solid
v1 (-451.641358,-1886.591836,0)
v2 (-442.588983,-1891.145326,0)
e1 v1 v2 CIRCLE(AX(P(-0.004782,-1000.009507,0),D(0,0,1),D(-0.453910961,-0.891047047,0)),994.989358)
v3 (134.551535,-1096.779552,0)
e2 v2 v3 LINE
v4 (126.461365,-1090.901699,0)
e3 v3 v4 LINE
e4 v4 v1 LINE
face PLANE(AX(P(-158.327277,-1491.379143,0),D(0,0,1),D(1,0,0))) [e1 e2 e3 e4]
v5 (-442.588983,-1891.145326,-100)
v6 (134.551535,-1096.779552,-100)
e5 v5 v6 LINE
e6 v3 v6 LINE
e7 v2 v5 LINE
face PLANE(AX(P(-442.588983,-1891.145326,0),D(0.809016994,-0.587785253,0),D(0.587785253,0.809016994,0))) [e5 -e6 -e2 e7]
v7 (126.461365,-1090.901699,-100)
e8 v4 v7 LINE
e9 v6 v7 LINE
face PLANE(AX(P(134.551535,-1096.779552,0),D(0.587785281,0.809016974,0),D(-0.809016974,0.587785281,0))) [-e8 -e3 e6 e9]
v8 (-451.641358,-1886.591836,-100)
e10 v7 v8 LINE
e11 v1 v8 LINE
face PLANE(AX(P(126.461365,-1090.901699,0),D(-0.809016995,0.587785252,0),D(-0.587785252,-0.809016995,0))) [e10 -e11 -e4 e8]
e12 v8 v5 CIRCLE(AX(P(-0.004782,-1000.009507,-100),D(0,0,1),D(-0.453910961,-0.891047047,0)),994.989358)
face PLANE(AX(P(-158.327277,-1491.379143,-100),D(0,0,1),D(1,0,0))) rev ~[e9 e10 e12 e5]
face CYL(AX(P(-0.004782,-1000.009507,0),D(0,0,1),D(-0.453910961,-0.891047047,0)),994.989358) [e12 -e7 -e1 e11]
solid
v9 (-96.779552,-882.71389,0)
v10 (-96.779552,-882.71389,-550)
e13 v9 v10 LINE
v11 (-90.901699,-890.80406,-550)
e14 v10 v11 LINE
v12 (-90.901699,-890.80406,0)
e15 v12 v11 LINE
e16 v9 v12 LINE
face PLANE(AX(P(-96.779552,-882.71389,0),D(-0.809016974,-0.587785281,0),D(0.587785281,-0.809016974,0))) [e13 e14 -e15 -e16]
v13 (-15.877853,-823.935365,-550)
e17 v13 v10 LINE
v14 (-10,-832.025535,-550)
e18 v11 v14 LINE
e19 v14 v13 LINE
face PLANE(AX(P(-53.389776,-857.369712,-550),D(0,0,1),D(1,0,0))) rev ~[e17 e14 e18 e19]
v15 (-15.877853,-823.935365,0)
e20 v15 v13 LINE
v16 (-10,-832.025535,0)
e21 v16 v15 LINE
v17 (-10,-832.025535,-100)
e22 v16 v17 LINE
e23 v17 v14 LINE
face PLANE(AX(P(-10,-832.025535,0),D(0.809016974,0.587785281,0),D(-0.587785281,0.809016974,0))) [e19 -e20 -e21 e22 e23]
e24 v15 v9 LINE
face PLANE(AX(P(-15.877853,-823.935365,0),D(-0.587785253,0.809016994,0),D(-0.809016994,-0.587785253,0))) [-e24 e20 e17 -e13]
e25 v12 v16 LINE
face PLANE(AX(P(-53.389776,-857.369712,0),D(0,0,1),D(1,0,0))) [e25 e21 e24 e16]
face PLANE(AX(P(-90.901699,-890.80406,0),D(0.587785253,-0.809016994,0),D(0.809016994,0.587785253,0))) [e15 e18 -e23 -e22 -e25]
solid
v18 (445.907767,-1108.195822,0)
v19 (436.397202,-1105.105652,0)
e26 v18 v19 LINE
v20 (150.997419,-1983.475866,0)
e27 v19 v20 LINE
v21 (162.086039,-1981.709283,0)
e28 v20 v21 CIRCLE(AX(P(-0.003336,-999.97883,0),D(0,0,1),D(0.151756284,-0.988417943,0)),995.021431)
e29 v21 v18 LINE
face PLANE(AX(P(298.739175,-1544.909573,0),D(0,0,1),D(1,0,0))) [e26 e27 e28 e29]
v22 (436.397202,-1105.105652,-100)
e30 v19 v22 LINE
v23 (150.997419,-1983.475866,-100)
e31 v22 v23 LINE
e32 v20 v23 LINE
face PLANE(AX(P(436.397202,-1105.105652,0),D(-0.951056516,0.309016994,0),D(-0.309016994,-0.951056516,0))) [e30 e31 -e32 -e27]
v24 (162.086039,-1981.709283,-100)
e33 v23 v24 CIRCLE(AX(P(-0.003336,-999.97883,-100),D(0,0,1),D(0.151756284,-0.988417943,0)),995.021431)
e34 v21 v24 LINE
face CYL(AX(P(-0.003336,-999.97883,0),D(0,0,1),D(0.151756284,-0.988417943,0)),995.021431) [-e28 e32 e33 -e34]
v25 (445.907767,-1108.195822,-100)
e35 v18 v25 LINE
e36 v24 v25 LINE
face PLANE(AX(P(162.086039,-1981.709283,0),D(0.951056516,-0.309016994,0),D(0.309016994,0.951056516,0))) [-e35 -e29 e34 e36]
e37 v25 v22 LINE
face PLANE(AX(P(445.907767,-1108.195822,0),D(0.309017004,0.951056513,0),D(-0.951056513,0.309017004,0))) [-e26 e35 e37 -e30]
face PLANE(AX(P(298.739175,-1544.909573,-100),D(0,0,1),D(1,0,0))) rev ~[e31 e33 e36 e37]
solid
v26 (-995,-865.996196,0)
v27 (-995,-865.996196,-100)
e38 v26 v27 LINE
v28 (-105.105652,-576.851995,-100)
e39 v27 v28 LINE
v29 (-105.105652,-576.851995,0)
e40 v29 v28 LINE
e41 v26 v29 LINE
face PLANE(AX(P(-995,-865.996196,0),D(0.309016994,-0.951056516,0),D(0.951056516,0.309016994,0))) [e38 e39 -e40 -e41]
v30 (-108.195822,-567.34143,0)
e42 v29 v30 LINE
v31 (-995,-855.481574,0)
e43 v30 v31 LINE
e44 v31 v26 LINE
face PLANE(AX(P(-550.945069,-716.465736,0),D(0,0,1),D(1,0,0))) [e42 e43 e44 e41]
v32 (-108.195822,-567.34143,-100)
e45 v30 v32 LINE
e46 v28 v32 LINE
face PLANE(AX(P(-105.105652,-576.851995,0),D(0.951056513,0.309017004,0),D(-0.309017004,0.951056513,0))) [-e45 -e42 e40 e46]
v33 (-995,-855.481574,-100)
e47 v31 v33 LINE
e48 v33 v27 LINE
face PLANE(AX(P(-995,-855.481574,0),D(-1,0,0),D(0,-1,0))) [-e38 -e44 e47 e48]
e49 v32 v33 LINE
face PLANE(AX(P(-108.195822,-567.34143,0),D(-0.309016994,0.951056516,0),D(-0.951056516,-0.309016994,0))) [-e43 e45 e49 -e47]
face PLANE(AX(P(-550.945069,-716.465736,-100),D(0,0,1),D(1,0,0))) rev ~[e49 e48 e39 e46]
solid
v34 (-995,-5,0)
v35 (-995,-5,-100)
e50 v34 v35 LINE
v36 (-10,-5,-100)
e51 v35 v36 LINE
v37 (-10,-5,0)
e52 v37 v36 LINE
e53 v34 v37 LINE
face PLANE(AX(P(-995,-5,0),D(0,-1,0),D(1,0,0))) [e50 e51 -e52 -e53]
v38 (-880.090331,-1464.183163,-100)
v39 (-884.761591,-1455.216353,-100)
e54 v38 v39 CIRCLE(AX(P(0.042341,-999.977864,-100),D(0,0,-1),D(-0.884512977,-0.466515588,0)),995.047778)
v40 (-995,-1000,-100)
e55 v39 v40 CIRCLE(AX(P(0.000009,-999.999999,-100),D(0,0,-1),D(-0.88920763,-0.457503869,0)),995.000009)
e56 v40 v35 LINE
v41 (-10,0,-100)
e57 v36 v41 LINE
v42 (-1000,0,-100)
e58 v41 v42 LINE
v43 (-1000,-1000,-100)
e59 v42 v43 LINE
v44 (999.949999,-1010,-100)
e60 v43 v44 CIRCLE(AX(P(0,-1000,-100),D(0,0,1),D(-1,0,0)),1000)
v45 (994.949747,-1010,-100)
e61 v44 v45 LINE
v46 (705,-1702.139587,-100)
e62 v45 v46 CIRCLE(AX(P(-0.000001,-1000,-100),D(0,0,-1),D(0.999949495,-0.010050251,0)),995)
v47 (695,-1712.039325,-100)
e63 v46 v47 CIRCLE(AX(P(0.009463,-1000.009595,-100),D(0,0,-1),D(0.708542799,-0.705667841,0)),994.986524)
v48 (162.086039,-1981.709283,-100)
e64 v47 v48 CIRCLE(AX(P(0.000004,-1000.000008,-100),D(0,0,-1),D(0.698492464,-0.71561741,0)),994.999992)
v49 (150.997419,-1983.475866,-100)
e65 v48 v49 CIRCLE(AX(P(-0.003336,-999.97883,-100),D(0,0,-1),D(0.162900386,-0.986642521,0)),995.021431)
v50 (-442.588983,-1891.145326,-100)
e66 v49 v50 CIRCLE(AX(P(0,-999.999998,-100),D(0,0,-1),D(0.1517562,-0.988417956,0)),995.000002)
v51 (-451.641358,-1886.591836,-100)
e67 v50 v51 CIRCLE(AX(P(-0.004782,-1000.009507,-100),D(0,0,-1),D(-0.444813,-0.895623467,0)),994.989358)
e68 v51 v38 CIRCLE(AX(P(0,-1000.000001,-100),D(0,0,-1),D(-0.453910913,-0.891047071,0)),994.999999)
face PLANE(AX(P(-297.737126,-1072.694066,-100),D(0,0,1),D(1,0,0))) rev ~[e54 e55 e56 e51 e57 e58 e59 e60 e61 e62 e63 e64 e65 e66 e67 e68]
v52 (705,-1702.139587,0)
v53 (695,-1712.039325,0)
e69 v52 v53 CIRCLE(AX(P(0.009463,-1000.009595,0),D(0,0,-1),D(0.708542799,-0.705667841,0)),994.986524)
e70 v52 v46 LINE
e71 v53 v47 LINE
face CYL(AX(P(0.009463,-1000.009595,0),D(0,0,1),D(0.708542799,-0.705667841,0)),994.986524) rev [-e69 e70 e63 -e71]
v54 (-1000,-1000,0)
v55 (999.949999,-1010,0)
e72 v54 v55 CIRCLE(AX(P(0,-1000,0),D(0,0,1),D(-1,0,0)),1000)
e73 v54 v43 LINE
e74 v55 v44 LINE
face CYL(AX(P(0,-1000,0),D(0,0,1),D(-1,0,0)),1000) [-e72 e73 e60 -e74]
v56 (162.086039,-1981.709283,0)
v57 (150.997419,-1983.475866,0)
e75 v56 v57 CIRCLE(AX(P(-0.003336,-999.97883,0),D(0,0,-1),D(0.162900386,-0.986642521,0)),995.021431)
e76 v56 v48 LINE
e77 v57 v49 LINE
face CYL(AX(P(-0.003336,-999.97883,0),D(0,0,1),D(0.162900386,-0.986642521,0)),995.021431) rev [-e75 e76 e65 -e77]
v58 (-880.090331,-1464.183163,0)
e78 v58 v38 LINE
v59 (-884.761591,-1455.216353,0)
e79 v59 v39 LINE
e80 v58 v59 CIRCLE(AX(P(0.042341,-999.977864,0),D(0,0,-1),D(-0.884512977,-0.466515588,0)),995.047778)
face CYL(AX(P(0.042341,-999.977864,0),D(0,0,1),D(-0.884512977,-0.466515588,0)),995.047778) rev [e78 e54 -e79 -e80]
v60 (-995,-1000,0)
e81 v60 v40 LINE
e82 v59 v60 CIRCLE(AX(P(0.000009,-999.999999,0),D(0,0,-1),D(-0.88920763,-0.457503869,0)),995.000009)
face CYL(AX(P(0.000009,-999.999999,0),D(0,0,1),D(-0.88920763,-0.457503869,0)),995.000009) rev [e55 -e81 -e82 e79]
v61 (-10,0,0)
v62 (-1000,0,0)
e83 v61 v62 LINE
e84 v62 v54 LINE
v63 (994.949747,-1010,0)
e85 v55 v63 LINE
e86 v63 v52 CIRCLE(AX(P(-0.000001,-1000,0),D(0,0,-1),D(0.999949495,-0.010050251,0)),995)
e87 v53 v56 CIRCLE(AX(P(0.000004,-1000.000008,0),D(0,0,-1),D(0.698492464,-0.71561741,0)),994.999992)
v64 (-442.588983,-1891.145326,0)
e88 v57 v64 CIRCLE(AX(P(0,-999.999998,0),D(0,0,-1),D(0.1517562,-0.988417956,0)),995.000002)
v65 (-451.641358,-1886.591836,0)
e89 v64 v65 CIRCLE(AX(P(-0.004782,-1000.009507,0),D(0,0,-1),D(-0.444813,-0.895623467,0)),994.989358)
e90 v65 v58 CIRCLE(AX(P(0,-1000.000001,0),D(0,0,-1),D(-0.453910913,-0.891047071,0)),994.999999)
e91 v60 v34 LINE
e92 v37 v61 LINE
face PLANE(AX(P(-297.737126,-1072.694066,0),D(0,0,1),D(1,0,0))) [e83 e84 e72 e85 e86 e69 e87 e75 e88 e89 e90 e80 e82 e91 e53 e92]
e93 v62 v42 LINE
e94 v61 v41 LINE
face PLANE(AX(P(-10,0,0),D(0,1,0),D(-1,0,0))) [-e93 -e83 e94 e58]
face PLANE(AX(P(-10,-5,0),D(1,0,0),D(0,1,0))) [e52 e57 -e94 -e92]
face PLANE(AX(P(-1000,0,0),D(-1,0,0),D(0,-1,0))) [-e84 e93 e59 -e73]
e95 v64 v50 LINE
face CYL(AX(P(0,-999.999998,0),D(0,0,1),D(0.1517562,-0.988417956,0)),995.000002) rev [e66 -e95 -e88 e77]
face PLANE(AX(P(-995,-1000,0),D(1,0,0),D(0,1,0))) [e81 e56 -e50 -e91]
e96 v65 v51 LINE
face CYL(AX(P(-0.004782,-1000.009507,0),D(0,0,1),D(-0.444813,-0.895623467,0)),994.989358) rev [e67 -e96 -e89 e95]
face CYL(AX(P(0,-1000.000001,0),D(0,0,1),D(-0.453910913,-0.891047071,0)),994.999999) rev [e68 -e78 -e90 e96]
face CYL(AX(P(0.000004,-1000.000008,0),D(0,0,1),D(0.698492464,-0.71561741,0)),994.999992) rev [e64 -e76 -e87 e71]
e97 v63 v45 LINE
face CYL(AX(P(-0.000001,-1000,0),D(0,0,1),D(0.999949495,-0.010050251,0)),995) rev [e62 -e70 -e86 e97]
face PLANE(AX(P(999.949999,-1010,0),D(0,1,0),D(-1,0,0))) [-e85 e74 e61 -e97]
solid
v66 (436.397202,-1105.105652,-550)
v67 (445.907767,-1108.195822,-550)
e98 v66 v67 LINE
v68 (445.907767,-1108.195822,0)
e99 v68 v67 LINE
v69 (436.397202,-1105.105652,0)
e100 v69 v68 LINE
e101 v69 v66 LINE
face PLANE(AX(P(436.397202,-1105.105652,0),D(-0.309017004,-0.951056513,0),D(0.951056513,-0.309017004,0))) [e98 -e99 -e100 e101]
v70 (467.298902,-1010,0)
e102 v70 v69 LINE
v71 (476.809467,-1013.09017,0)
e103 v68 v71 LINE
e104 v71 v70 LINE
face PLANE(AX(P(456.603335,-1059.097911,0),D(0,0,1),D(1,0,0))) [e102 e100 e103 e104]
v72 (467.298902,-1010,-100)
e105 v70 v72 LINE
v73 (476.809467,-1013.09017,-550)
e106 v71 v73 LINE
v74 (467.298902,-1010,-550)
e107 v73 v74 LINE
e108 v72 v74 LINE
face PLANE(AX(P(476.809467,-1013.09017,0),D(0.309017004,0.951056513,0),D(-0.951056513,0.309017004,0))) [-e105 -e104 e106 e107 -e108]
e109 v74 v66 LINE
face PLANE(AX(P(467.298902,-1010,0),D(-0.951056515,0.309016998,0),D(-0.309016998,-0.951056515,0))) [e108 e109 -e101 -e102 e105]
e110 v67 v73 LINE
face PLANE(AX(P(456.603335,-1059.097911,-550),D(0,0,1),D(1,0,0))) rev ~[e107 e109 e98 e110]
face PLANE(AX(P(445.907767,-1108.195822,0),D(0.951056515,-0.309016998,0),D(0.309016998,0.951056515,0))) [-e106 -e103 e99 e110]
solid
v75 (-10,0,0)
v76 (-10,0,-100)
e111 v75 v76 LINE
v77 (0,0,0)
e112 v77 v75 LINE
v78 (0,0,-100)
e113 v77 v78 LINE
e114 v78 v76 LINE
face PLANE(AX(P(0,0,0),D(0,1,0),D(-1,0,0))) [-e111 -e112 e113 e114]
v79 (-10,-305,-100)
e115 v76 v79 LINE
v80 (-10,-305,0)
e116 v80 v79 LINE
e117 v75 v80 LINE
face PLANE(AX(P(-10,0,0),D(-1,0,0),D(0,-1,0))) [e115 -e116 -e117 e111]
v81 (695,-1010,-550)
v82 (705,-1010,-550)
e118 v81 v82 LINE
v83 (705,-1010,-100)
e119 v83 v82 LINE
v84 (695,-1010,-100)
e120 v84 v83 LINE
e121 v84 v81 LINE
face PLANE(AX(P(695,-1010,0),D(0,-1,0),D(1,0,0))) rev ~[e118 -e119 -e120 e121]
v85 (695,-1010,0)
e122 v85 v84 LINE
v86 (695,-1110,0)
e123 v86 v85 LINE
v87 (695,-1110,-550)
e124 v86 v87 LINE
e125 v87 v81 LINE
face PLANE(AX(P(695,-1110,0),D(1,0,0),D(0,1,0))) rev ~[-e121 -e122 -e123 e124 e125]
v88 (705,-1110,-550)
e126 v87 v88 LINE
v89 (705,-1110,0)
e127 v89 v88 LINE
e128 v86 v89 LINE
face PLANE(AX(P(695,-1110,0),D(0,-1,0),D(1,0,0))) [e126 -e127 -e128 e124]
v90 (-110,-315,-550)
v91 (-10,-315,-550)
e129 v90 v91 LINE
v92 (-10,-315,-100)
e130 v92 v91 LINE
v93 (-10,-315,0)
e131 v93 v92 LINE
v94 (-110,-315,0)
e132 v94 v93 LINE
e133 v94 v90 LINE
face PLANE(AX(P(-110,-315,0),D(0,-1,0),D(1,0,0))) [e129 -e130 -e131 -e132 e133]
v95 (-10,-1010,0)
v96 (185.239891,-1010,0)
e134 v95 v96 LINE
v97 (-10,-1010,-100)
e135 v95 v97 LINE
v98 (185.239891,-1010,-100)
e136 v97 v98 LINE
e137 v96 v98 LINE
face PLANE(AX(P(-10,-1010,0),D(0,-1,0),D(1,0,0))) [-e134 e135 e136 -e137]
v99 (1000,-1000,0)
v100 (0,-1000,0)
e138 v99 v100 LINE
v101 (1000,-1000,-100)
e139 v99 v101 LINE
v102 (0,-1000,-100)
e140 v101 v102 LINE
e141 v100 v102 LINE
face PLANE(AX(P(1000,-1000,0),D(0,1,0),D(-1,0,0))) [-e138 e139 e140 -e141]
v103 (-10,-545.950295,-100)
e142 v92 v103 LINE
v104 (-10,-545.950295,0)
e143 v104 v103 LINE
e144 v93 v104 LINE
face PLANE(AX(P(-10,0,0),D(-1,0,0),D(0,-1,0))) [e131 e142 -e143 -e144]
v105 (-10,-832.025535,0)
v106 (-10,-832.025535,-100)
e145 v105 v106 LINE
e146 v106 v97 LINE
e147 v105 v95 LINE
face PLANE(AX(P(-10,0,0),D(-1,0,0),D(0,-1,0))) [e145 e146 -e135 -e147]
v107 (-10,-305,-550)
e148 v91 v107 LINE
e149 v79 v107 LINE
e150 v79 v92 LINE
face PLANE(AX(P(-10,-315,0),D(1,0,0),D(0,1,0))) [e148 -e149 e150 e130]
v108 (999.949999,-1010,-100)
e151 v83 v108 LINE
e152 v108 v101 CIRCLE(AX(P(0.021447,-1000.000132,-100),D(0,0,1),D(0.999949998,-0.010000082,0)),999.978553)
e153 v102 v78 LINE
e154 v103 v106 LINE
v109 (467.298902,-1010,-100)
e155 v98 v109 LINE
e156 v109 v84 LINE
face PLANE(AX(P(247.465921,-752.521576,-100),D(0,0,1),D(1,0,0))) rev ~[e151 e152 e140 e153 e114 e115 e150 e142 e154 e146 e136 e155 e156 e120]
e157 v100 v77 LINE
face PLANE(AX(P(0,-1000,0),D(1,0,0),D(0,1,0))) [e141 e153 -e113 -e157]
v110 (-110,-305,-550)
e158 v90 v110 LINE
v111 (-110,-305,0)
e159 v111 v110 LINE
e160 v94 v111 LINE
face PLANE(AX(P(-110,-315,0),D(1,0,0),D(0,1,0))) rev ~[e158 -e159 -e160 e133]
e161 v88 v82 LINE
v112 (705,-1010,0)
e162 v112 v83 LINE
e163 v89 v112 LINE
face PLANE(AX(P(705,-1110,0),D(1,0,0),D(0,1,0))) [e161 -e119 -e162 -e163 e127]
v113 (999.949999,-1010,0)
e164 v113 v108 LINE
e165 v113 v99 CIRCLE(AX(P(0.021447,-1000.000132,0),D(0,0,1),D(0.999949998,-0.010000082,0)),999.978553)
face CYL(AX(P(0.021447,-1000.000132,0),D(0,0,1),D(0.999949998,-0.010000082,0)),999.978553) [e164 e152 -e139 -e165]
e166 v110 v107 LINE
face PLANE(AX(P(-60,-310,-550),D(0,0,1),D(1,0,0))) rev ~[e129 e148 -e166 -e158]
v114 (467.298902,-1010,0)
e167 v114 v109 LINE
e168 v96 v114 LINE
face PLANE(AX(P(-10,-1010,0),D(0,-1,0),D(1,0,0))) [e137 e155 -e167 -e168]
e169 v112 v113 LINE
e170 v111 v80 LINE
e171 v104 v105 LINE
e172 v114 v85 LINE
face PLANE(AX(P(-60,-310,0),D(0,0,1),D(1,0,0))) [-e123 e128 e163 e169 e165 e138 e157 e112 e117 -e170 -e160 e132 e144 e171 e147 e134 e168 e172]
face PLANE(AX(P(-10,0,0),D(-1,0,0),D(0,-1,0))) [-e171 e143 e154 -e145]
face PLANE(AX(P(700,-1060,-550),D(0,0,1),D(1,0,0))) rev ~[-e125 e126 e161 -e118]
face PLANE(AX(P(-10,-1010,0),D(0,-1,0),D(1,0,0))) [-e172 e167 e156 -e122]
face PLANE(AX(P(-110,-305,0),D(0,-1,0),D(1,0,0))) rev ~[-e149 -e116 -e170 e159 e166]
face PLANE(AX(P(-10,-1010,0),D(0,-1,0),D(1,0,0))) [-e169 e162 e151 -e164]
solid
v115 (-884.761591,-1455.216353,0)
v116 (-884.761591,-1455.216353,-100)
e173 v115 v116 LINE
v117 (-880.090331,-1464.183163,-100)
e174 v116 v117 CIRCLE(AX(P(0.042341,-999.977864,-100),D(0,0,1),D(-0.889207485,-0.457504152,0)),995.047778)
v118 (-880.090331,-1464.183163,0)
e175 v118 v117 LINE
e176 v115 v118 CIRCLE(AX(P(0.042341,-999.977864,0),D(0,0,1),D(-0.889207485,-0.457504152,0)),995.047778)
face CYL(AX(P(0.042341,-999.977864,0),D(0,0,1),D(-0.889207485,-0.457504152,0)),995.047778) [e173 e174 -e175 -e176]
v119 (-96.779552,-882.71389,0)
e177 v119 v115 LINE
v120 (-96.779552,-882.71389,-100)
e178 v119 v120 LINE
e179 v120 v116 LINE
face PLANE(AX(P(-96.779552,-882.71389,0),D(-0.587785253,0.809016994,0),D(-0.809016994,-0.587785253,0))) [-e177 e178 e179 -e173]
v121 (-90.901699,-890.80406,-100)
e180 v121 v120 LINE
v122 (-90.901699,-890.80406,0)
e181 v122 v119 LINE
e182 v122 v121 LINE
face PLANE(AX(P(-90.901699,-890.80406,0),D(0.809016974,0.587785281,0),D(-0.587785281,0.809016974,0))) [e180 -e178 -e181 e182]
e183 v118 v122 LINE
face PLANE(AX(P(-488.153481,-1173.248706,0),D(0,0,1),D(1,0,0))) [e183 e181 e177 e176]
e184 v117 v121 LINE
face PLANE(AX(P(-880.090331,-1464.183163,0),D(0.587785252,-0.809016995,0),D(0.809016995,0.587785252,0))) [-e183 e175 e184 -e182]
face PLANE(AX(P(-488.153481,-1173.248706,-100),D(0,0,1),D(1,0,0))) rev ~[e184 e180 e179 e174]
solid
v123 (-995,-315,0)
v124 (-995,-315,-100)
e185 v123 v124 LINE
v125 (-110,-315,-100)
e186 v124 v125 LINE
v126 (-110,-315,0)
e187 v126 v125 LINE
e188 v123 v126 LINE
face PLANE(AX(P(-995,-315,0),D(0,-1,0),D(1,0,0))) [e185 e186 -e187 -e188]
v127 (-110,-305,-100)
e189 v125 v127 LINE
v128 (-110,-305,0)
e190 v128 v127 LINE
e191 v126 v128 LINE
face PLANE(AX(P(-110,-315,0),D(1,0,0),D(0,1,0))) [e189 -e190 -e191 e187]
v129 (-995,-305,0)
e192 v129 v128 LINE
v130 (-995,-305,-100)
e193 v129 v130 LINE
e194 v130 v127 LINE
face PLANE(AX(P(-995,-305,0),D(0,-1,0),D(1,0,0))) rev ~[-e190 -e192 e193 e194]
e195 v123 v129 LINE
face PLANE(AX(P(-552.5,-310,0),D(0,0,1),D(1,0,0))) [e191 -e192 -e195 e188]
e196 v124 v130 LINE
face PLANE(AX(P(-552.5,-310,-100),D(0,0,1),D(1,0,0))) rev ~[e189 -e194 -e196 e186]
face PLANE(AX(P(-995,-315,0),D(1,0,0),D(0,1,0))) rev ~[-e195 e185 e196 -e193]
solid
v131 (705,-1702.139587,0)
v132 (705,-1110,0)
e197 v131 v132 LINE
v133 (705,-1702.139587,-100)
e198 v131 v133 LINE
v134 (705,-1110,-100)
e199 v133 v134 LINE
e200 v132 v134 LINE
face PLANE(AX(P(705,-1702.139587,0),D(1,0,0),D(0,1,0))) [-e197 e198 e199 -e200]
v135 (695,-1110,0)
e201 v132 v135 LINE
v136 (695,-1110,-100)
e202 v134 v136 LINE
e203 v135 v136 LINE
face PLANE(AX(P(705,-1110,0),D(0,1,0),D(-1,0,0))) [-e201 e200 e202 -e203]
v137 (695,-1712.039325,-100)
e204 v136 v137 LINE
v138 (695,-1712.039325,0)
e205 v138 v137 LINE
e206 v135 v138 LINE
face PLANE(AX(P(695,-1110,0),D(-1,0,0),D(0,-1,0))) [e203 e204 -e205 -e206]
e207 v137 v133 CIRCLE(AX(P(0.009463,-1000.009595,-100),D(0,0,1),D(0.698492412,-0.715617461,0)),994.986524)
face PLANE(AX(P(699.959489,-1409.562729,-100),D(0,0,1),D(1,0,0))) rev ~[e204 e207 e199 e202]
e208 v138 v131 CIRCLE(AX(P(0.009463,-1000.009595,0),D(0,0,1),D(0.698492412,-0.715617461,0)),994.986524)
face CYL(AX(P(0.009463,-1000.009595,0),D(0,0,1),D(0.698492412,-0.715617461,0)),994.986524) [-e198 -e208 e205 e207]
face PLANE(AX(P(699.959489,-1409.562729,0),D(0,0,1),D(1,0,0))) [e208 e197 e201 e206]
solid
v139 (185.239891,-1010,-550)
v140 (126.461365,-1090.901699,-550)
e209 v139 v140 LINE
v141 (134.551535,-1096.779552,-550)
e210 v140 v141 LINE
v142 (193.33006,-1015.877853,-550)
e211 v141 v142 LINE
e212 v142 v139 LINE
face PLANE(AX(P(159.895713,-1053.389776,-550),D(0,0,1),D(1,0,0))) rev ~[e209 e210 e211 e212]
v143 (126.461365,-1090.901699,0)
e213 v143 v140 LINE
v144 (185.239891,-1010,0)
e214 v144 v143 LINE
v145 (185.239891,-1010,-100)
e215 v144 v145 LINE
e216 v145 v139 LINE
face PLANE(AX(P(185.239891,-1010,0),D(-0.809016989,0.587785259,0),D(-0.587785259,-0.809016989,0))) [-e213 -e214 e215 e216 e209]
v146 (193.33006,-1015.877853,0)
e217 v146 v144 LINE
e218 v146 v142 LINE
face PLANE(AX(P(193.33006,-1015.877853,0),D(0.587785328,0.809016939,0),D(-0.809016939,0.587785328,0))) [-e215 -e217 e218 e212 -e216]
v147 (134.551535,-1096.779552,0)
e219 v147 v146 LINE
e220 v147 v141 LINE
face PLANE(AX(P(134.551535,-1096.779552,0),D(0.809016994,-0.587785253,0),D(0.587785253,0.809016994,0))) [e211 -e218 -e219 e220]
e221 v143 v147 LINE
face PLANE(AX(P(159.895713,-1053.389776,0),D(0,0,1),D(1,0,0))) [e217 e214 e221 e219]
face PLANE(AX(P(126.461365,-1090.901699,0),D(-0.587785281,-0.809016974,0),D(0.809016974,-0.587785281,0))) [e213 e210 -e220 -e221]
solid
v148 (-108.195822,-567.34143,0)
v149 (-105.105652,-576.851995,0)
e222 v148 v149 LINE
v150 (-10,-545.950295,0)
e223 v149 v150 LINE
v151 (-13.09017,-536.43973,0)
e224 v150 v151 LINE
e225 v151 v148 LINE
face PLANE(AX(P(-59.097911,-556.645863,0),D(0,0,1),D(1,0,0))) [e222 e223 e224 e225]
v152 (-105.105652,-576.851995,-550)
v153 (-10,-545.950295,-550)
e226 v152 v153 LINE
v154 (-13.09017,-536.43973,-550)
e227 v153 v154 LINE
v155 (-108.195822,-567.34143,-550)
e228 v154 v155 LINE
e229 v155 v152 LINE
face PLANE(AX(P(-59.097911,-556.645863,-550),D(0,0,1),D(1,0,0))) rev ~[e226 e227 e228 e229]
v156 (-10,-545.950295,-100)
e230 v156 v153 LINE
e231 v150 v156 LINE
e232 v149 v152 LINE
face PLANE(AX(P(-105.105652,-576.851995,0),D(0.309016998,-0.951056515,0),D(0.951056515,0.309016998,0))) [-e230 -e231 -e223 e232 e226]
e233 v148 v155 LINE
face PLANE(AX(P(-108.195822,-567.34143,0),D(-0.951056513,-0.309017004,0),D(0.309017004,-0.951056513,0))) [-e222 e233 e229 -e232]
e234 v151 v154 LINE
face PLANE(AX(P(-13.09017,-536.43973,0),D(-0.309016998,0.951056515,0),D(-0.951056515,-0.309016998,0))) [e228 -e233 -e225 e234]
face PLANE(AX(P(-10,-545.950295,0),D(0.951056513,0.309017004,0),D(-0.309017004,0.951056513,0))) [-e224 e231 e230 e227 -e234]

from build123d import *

# Parameters (mm, degrees)
F1_DEPTH = 100
F2_DEPTH = 100
F0_W     = 100
F0_H     = 10
F0_W_2   = 10
F0_H_2   = 100
F3_DEPTH = 550
F0_W_3   = 885
F4_DEPTH = 100


with BuildPart() as f1:
    # F0 (on Top) → F1 (new body)
    with BuildSketch(Plane.XY):
        with BuildLine():
            Line((0, -1000), (0, 0))
            Line((0, 0), (-10, 0))
            Line((-10, 0), (-10, -5))
            Line((-10, -5), (-10, -305))
            Line((-10, -305), (-10, -315))
            Line((-10, -315), (-10, -535.435673))
            Line((-10, -535.435673), (-10, -545.950295))
            Line((-10, -545.950295), (-10, -819.664855))
            Line((-10, -819.664855), (-10, -832.025535))
            Line((-10, -832.025535), (-10, -1010))
            Line((-10, -1010), (185.239891, -1010))
            Line((185.239891, -1010), (197.60057, -1010))
            Line((197.60057, -1010), (467.298902, -1010))
            Line((467.298902, -1010), (477.813524, -1010))
            Line((477.813524, -1010), (695, -1010))
            Line((695, -1010), (705, -1010))
            Line((705, -1010), (994.949747, -1010))
            Line((994.949747, -1010), (999.949999, -1010))
            ThreePointArc((999.949999, -1010), (999.9875, -1005.000063), (1000, -1000))
            Line((1000, -1000), (0, -1000))
        make_face()
    extrude(amount=-F1_DEPTH)

    # F0 (on Top) → F3 (join)
    with BuildSketch(Plane.XY):
        with Locations((-60, -310)):
            Rectangle(F0_W, F0_H)
        Polygon((-105.105652, -576.851995), (-10, -545.950295), (-13.09017, -536.43973), (-108.195822, -567.34143), align=None)
        Polygon((-90.901699, -890.80406), (-10, -832.025535), (-15.877853, -823.935365), (-96.779552, -882.71389), align=None)
        Polygon((193.33006, -1015.877853), (185.239891, -1010), (126.461365, -1090.901699), (134.551535, -1096.779552), align=None)
        Polygon((476.809467, -1013.09017), (467.298902, -1010), (436.397202, -1105.105652), (445.907767, -1108.195822), align=None)
        with Locations((700, -1060)):
            Rectangle(F0_W_2, F0_H_2)
    extrude(amount=-F3_DEPTH)


with BuildPart() as f2:
    # F0 (on Top) → F2 (new body)
    with BuildSketch(Plane.XY):
        with BuildLine():
            Line((-10, -5), (-10, 0))
            Line((-10, 0), (-1000, 0))
            Line((-1000, 0), (-1000, -1000))
            ThreePointArc((-1000, -1000), (-5.000063, -1999.9875), (999.949999, -1010))
            Line((999.949999, -1010), (994.949747, -1010))
            ThreePointArc((994.949747, -1010), (917.726314, -1384.452093), (705, -1702.139587))
            ThreePointArc((705, -1702.139587), (700.017501, -1707.107134), (695, -1712.039325))
            ThreePointArc((695, -1712.039325), (449.254484, -1887.8037), (162.086039, -1981.709283))
            ThreePointArc((162.086039, -1981.709283), (156.544221, -1982.608216), (150.997419, -1983.475866))
            ThreePointArc((150.997419, -1983.475866), (-152.930187, -1983.177175), (-442.588983, -1891.145326))
            ThreePointArc((-442.588983, -1891.145326), (-447.120967, -1888.880105), (-451.641358, -1886.591836))
            ThreePointArc((-451.641358, -1886.591836), (-698.558941, -1708.548097), (-880.090331, -1464.183163))
            ThreePointArc((-880.090331, -1464.183163), (-882.43735, -1459.705691), (-884.761591, -1455.216353))
            ThreePointArc((-884.761591, -1455.216353), (-967.047771, -1234.187123), (-995, -1000))
            Line((-995, -1000), (-995, -865.996196))
            Line((-995, -865.996196), (-995, -855.481574))
            Line((-995, -855.481574), (-995, -315))
            Line((-995, -315), (-995, -305))
            Line((-995, -305), (-995, -5))
            Line((-995, -5), (-10, -5))
        make_face()
    extrude(amount=-F2_DEPTH)


with BuildPart() as f4:
    # F0 (on Top) → F4 (new body)
    with BuildSketch(Plane.XY):
        with Locations((-552.5, -310)):
            Rectangle(F0_W_3, F0_H)
        Polygon((-108.195822, -567.34143), (-995, -855.481574), (-995, -865.996196), (-105.105652, -576.851995), align=None)
        with BuildLine():
            Line((-880.090331, -1464.183163), (-90.901699, -890.80406))
            Line((-90.901699, -890.80406), (-96.779552, -882.71389))
            Line((-96.779552, -882.71389), (-884.761591, -1455.216353))
            ThreePointArc((-884.761591, -1455.216353), (-882.43735, -1459.705691), (-880.090331, -1464.183163))
        make_face()
        with BuildLine():
            ThreePointArc((-451.641358, -1886.591836), (-447.120967, -1888.880105), (-442.588983, -1891.145326))
            Line((-442.588983, -1891.145326), (134.551535, -1096.779552))
            Line((134.551535, -1096.779552), (126.461365, -1090.901699))
            Line((126.461365, -1090.901699), (-451.641358, -1886.591836))
        make_face()
        with BuildLine():
            ThreePointArc((150.997419, -1983.475866), (156.544221, -1982.608216), (162.086039, -1981.709283))
            Line((162.086039, -1981.709283), (445.907767, -1108.195822))
            Line((445.907767, -1108.195822), (436.397202, -1105.105652))
            Line((436.397202, -1105.105652), (150.997419, -1983.475866))
        make_face()
        with BuildLine():
            ThreePointArc((695, -1712.039325), (700.017501, -1707.107134), (705, -1702.139587))
            Line((705, -1702.139587), (705, -1110))
            Line((705, -1110), (695, -1110))
            Line((695, -1110), (695, -1712.039325))
        make_face()
    extrude(amount=-F4_DEPTH)


solid = Compound([f1.part, f2.part, f4.part])
